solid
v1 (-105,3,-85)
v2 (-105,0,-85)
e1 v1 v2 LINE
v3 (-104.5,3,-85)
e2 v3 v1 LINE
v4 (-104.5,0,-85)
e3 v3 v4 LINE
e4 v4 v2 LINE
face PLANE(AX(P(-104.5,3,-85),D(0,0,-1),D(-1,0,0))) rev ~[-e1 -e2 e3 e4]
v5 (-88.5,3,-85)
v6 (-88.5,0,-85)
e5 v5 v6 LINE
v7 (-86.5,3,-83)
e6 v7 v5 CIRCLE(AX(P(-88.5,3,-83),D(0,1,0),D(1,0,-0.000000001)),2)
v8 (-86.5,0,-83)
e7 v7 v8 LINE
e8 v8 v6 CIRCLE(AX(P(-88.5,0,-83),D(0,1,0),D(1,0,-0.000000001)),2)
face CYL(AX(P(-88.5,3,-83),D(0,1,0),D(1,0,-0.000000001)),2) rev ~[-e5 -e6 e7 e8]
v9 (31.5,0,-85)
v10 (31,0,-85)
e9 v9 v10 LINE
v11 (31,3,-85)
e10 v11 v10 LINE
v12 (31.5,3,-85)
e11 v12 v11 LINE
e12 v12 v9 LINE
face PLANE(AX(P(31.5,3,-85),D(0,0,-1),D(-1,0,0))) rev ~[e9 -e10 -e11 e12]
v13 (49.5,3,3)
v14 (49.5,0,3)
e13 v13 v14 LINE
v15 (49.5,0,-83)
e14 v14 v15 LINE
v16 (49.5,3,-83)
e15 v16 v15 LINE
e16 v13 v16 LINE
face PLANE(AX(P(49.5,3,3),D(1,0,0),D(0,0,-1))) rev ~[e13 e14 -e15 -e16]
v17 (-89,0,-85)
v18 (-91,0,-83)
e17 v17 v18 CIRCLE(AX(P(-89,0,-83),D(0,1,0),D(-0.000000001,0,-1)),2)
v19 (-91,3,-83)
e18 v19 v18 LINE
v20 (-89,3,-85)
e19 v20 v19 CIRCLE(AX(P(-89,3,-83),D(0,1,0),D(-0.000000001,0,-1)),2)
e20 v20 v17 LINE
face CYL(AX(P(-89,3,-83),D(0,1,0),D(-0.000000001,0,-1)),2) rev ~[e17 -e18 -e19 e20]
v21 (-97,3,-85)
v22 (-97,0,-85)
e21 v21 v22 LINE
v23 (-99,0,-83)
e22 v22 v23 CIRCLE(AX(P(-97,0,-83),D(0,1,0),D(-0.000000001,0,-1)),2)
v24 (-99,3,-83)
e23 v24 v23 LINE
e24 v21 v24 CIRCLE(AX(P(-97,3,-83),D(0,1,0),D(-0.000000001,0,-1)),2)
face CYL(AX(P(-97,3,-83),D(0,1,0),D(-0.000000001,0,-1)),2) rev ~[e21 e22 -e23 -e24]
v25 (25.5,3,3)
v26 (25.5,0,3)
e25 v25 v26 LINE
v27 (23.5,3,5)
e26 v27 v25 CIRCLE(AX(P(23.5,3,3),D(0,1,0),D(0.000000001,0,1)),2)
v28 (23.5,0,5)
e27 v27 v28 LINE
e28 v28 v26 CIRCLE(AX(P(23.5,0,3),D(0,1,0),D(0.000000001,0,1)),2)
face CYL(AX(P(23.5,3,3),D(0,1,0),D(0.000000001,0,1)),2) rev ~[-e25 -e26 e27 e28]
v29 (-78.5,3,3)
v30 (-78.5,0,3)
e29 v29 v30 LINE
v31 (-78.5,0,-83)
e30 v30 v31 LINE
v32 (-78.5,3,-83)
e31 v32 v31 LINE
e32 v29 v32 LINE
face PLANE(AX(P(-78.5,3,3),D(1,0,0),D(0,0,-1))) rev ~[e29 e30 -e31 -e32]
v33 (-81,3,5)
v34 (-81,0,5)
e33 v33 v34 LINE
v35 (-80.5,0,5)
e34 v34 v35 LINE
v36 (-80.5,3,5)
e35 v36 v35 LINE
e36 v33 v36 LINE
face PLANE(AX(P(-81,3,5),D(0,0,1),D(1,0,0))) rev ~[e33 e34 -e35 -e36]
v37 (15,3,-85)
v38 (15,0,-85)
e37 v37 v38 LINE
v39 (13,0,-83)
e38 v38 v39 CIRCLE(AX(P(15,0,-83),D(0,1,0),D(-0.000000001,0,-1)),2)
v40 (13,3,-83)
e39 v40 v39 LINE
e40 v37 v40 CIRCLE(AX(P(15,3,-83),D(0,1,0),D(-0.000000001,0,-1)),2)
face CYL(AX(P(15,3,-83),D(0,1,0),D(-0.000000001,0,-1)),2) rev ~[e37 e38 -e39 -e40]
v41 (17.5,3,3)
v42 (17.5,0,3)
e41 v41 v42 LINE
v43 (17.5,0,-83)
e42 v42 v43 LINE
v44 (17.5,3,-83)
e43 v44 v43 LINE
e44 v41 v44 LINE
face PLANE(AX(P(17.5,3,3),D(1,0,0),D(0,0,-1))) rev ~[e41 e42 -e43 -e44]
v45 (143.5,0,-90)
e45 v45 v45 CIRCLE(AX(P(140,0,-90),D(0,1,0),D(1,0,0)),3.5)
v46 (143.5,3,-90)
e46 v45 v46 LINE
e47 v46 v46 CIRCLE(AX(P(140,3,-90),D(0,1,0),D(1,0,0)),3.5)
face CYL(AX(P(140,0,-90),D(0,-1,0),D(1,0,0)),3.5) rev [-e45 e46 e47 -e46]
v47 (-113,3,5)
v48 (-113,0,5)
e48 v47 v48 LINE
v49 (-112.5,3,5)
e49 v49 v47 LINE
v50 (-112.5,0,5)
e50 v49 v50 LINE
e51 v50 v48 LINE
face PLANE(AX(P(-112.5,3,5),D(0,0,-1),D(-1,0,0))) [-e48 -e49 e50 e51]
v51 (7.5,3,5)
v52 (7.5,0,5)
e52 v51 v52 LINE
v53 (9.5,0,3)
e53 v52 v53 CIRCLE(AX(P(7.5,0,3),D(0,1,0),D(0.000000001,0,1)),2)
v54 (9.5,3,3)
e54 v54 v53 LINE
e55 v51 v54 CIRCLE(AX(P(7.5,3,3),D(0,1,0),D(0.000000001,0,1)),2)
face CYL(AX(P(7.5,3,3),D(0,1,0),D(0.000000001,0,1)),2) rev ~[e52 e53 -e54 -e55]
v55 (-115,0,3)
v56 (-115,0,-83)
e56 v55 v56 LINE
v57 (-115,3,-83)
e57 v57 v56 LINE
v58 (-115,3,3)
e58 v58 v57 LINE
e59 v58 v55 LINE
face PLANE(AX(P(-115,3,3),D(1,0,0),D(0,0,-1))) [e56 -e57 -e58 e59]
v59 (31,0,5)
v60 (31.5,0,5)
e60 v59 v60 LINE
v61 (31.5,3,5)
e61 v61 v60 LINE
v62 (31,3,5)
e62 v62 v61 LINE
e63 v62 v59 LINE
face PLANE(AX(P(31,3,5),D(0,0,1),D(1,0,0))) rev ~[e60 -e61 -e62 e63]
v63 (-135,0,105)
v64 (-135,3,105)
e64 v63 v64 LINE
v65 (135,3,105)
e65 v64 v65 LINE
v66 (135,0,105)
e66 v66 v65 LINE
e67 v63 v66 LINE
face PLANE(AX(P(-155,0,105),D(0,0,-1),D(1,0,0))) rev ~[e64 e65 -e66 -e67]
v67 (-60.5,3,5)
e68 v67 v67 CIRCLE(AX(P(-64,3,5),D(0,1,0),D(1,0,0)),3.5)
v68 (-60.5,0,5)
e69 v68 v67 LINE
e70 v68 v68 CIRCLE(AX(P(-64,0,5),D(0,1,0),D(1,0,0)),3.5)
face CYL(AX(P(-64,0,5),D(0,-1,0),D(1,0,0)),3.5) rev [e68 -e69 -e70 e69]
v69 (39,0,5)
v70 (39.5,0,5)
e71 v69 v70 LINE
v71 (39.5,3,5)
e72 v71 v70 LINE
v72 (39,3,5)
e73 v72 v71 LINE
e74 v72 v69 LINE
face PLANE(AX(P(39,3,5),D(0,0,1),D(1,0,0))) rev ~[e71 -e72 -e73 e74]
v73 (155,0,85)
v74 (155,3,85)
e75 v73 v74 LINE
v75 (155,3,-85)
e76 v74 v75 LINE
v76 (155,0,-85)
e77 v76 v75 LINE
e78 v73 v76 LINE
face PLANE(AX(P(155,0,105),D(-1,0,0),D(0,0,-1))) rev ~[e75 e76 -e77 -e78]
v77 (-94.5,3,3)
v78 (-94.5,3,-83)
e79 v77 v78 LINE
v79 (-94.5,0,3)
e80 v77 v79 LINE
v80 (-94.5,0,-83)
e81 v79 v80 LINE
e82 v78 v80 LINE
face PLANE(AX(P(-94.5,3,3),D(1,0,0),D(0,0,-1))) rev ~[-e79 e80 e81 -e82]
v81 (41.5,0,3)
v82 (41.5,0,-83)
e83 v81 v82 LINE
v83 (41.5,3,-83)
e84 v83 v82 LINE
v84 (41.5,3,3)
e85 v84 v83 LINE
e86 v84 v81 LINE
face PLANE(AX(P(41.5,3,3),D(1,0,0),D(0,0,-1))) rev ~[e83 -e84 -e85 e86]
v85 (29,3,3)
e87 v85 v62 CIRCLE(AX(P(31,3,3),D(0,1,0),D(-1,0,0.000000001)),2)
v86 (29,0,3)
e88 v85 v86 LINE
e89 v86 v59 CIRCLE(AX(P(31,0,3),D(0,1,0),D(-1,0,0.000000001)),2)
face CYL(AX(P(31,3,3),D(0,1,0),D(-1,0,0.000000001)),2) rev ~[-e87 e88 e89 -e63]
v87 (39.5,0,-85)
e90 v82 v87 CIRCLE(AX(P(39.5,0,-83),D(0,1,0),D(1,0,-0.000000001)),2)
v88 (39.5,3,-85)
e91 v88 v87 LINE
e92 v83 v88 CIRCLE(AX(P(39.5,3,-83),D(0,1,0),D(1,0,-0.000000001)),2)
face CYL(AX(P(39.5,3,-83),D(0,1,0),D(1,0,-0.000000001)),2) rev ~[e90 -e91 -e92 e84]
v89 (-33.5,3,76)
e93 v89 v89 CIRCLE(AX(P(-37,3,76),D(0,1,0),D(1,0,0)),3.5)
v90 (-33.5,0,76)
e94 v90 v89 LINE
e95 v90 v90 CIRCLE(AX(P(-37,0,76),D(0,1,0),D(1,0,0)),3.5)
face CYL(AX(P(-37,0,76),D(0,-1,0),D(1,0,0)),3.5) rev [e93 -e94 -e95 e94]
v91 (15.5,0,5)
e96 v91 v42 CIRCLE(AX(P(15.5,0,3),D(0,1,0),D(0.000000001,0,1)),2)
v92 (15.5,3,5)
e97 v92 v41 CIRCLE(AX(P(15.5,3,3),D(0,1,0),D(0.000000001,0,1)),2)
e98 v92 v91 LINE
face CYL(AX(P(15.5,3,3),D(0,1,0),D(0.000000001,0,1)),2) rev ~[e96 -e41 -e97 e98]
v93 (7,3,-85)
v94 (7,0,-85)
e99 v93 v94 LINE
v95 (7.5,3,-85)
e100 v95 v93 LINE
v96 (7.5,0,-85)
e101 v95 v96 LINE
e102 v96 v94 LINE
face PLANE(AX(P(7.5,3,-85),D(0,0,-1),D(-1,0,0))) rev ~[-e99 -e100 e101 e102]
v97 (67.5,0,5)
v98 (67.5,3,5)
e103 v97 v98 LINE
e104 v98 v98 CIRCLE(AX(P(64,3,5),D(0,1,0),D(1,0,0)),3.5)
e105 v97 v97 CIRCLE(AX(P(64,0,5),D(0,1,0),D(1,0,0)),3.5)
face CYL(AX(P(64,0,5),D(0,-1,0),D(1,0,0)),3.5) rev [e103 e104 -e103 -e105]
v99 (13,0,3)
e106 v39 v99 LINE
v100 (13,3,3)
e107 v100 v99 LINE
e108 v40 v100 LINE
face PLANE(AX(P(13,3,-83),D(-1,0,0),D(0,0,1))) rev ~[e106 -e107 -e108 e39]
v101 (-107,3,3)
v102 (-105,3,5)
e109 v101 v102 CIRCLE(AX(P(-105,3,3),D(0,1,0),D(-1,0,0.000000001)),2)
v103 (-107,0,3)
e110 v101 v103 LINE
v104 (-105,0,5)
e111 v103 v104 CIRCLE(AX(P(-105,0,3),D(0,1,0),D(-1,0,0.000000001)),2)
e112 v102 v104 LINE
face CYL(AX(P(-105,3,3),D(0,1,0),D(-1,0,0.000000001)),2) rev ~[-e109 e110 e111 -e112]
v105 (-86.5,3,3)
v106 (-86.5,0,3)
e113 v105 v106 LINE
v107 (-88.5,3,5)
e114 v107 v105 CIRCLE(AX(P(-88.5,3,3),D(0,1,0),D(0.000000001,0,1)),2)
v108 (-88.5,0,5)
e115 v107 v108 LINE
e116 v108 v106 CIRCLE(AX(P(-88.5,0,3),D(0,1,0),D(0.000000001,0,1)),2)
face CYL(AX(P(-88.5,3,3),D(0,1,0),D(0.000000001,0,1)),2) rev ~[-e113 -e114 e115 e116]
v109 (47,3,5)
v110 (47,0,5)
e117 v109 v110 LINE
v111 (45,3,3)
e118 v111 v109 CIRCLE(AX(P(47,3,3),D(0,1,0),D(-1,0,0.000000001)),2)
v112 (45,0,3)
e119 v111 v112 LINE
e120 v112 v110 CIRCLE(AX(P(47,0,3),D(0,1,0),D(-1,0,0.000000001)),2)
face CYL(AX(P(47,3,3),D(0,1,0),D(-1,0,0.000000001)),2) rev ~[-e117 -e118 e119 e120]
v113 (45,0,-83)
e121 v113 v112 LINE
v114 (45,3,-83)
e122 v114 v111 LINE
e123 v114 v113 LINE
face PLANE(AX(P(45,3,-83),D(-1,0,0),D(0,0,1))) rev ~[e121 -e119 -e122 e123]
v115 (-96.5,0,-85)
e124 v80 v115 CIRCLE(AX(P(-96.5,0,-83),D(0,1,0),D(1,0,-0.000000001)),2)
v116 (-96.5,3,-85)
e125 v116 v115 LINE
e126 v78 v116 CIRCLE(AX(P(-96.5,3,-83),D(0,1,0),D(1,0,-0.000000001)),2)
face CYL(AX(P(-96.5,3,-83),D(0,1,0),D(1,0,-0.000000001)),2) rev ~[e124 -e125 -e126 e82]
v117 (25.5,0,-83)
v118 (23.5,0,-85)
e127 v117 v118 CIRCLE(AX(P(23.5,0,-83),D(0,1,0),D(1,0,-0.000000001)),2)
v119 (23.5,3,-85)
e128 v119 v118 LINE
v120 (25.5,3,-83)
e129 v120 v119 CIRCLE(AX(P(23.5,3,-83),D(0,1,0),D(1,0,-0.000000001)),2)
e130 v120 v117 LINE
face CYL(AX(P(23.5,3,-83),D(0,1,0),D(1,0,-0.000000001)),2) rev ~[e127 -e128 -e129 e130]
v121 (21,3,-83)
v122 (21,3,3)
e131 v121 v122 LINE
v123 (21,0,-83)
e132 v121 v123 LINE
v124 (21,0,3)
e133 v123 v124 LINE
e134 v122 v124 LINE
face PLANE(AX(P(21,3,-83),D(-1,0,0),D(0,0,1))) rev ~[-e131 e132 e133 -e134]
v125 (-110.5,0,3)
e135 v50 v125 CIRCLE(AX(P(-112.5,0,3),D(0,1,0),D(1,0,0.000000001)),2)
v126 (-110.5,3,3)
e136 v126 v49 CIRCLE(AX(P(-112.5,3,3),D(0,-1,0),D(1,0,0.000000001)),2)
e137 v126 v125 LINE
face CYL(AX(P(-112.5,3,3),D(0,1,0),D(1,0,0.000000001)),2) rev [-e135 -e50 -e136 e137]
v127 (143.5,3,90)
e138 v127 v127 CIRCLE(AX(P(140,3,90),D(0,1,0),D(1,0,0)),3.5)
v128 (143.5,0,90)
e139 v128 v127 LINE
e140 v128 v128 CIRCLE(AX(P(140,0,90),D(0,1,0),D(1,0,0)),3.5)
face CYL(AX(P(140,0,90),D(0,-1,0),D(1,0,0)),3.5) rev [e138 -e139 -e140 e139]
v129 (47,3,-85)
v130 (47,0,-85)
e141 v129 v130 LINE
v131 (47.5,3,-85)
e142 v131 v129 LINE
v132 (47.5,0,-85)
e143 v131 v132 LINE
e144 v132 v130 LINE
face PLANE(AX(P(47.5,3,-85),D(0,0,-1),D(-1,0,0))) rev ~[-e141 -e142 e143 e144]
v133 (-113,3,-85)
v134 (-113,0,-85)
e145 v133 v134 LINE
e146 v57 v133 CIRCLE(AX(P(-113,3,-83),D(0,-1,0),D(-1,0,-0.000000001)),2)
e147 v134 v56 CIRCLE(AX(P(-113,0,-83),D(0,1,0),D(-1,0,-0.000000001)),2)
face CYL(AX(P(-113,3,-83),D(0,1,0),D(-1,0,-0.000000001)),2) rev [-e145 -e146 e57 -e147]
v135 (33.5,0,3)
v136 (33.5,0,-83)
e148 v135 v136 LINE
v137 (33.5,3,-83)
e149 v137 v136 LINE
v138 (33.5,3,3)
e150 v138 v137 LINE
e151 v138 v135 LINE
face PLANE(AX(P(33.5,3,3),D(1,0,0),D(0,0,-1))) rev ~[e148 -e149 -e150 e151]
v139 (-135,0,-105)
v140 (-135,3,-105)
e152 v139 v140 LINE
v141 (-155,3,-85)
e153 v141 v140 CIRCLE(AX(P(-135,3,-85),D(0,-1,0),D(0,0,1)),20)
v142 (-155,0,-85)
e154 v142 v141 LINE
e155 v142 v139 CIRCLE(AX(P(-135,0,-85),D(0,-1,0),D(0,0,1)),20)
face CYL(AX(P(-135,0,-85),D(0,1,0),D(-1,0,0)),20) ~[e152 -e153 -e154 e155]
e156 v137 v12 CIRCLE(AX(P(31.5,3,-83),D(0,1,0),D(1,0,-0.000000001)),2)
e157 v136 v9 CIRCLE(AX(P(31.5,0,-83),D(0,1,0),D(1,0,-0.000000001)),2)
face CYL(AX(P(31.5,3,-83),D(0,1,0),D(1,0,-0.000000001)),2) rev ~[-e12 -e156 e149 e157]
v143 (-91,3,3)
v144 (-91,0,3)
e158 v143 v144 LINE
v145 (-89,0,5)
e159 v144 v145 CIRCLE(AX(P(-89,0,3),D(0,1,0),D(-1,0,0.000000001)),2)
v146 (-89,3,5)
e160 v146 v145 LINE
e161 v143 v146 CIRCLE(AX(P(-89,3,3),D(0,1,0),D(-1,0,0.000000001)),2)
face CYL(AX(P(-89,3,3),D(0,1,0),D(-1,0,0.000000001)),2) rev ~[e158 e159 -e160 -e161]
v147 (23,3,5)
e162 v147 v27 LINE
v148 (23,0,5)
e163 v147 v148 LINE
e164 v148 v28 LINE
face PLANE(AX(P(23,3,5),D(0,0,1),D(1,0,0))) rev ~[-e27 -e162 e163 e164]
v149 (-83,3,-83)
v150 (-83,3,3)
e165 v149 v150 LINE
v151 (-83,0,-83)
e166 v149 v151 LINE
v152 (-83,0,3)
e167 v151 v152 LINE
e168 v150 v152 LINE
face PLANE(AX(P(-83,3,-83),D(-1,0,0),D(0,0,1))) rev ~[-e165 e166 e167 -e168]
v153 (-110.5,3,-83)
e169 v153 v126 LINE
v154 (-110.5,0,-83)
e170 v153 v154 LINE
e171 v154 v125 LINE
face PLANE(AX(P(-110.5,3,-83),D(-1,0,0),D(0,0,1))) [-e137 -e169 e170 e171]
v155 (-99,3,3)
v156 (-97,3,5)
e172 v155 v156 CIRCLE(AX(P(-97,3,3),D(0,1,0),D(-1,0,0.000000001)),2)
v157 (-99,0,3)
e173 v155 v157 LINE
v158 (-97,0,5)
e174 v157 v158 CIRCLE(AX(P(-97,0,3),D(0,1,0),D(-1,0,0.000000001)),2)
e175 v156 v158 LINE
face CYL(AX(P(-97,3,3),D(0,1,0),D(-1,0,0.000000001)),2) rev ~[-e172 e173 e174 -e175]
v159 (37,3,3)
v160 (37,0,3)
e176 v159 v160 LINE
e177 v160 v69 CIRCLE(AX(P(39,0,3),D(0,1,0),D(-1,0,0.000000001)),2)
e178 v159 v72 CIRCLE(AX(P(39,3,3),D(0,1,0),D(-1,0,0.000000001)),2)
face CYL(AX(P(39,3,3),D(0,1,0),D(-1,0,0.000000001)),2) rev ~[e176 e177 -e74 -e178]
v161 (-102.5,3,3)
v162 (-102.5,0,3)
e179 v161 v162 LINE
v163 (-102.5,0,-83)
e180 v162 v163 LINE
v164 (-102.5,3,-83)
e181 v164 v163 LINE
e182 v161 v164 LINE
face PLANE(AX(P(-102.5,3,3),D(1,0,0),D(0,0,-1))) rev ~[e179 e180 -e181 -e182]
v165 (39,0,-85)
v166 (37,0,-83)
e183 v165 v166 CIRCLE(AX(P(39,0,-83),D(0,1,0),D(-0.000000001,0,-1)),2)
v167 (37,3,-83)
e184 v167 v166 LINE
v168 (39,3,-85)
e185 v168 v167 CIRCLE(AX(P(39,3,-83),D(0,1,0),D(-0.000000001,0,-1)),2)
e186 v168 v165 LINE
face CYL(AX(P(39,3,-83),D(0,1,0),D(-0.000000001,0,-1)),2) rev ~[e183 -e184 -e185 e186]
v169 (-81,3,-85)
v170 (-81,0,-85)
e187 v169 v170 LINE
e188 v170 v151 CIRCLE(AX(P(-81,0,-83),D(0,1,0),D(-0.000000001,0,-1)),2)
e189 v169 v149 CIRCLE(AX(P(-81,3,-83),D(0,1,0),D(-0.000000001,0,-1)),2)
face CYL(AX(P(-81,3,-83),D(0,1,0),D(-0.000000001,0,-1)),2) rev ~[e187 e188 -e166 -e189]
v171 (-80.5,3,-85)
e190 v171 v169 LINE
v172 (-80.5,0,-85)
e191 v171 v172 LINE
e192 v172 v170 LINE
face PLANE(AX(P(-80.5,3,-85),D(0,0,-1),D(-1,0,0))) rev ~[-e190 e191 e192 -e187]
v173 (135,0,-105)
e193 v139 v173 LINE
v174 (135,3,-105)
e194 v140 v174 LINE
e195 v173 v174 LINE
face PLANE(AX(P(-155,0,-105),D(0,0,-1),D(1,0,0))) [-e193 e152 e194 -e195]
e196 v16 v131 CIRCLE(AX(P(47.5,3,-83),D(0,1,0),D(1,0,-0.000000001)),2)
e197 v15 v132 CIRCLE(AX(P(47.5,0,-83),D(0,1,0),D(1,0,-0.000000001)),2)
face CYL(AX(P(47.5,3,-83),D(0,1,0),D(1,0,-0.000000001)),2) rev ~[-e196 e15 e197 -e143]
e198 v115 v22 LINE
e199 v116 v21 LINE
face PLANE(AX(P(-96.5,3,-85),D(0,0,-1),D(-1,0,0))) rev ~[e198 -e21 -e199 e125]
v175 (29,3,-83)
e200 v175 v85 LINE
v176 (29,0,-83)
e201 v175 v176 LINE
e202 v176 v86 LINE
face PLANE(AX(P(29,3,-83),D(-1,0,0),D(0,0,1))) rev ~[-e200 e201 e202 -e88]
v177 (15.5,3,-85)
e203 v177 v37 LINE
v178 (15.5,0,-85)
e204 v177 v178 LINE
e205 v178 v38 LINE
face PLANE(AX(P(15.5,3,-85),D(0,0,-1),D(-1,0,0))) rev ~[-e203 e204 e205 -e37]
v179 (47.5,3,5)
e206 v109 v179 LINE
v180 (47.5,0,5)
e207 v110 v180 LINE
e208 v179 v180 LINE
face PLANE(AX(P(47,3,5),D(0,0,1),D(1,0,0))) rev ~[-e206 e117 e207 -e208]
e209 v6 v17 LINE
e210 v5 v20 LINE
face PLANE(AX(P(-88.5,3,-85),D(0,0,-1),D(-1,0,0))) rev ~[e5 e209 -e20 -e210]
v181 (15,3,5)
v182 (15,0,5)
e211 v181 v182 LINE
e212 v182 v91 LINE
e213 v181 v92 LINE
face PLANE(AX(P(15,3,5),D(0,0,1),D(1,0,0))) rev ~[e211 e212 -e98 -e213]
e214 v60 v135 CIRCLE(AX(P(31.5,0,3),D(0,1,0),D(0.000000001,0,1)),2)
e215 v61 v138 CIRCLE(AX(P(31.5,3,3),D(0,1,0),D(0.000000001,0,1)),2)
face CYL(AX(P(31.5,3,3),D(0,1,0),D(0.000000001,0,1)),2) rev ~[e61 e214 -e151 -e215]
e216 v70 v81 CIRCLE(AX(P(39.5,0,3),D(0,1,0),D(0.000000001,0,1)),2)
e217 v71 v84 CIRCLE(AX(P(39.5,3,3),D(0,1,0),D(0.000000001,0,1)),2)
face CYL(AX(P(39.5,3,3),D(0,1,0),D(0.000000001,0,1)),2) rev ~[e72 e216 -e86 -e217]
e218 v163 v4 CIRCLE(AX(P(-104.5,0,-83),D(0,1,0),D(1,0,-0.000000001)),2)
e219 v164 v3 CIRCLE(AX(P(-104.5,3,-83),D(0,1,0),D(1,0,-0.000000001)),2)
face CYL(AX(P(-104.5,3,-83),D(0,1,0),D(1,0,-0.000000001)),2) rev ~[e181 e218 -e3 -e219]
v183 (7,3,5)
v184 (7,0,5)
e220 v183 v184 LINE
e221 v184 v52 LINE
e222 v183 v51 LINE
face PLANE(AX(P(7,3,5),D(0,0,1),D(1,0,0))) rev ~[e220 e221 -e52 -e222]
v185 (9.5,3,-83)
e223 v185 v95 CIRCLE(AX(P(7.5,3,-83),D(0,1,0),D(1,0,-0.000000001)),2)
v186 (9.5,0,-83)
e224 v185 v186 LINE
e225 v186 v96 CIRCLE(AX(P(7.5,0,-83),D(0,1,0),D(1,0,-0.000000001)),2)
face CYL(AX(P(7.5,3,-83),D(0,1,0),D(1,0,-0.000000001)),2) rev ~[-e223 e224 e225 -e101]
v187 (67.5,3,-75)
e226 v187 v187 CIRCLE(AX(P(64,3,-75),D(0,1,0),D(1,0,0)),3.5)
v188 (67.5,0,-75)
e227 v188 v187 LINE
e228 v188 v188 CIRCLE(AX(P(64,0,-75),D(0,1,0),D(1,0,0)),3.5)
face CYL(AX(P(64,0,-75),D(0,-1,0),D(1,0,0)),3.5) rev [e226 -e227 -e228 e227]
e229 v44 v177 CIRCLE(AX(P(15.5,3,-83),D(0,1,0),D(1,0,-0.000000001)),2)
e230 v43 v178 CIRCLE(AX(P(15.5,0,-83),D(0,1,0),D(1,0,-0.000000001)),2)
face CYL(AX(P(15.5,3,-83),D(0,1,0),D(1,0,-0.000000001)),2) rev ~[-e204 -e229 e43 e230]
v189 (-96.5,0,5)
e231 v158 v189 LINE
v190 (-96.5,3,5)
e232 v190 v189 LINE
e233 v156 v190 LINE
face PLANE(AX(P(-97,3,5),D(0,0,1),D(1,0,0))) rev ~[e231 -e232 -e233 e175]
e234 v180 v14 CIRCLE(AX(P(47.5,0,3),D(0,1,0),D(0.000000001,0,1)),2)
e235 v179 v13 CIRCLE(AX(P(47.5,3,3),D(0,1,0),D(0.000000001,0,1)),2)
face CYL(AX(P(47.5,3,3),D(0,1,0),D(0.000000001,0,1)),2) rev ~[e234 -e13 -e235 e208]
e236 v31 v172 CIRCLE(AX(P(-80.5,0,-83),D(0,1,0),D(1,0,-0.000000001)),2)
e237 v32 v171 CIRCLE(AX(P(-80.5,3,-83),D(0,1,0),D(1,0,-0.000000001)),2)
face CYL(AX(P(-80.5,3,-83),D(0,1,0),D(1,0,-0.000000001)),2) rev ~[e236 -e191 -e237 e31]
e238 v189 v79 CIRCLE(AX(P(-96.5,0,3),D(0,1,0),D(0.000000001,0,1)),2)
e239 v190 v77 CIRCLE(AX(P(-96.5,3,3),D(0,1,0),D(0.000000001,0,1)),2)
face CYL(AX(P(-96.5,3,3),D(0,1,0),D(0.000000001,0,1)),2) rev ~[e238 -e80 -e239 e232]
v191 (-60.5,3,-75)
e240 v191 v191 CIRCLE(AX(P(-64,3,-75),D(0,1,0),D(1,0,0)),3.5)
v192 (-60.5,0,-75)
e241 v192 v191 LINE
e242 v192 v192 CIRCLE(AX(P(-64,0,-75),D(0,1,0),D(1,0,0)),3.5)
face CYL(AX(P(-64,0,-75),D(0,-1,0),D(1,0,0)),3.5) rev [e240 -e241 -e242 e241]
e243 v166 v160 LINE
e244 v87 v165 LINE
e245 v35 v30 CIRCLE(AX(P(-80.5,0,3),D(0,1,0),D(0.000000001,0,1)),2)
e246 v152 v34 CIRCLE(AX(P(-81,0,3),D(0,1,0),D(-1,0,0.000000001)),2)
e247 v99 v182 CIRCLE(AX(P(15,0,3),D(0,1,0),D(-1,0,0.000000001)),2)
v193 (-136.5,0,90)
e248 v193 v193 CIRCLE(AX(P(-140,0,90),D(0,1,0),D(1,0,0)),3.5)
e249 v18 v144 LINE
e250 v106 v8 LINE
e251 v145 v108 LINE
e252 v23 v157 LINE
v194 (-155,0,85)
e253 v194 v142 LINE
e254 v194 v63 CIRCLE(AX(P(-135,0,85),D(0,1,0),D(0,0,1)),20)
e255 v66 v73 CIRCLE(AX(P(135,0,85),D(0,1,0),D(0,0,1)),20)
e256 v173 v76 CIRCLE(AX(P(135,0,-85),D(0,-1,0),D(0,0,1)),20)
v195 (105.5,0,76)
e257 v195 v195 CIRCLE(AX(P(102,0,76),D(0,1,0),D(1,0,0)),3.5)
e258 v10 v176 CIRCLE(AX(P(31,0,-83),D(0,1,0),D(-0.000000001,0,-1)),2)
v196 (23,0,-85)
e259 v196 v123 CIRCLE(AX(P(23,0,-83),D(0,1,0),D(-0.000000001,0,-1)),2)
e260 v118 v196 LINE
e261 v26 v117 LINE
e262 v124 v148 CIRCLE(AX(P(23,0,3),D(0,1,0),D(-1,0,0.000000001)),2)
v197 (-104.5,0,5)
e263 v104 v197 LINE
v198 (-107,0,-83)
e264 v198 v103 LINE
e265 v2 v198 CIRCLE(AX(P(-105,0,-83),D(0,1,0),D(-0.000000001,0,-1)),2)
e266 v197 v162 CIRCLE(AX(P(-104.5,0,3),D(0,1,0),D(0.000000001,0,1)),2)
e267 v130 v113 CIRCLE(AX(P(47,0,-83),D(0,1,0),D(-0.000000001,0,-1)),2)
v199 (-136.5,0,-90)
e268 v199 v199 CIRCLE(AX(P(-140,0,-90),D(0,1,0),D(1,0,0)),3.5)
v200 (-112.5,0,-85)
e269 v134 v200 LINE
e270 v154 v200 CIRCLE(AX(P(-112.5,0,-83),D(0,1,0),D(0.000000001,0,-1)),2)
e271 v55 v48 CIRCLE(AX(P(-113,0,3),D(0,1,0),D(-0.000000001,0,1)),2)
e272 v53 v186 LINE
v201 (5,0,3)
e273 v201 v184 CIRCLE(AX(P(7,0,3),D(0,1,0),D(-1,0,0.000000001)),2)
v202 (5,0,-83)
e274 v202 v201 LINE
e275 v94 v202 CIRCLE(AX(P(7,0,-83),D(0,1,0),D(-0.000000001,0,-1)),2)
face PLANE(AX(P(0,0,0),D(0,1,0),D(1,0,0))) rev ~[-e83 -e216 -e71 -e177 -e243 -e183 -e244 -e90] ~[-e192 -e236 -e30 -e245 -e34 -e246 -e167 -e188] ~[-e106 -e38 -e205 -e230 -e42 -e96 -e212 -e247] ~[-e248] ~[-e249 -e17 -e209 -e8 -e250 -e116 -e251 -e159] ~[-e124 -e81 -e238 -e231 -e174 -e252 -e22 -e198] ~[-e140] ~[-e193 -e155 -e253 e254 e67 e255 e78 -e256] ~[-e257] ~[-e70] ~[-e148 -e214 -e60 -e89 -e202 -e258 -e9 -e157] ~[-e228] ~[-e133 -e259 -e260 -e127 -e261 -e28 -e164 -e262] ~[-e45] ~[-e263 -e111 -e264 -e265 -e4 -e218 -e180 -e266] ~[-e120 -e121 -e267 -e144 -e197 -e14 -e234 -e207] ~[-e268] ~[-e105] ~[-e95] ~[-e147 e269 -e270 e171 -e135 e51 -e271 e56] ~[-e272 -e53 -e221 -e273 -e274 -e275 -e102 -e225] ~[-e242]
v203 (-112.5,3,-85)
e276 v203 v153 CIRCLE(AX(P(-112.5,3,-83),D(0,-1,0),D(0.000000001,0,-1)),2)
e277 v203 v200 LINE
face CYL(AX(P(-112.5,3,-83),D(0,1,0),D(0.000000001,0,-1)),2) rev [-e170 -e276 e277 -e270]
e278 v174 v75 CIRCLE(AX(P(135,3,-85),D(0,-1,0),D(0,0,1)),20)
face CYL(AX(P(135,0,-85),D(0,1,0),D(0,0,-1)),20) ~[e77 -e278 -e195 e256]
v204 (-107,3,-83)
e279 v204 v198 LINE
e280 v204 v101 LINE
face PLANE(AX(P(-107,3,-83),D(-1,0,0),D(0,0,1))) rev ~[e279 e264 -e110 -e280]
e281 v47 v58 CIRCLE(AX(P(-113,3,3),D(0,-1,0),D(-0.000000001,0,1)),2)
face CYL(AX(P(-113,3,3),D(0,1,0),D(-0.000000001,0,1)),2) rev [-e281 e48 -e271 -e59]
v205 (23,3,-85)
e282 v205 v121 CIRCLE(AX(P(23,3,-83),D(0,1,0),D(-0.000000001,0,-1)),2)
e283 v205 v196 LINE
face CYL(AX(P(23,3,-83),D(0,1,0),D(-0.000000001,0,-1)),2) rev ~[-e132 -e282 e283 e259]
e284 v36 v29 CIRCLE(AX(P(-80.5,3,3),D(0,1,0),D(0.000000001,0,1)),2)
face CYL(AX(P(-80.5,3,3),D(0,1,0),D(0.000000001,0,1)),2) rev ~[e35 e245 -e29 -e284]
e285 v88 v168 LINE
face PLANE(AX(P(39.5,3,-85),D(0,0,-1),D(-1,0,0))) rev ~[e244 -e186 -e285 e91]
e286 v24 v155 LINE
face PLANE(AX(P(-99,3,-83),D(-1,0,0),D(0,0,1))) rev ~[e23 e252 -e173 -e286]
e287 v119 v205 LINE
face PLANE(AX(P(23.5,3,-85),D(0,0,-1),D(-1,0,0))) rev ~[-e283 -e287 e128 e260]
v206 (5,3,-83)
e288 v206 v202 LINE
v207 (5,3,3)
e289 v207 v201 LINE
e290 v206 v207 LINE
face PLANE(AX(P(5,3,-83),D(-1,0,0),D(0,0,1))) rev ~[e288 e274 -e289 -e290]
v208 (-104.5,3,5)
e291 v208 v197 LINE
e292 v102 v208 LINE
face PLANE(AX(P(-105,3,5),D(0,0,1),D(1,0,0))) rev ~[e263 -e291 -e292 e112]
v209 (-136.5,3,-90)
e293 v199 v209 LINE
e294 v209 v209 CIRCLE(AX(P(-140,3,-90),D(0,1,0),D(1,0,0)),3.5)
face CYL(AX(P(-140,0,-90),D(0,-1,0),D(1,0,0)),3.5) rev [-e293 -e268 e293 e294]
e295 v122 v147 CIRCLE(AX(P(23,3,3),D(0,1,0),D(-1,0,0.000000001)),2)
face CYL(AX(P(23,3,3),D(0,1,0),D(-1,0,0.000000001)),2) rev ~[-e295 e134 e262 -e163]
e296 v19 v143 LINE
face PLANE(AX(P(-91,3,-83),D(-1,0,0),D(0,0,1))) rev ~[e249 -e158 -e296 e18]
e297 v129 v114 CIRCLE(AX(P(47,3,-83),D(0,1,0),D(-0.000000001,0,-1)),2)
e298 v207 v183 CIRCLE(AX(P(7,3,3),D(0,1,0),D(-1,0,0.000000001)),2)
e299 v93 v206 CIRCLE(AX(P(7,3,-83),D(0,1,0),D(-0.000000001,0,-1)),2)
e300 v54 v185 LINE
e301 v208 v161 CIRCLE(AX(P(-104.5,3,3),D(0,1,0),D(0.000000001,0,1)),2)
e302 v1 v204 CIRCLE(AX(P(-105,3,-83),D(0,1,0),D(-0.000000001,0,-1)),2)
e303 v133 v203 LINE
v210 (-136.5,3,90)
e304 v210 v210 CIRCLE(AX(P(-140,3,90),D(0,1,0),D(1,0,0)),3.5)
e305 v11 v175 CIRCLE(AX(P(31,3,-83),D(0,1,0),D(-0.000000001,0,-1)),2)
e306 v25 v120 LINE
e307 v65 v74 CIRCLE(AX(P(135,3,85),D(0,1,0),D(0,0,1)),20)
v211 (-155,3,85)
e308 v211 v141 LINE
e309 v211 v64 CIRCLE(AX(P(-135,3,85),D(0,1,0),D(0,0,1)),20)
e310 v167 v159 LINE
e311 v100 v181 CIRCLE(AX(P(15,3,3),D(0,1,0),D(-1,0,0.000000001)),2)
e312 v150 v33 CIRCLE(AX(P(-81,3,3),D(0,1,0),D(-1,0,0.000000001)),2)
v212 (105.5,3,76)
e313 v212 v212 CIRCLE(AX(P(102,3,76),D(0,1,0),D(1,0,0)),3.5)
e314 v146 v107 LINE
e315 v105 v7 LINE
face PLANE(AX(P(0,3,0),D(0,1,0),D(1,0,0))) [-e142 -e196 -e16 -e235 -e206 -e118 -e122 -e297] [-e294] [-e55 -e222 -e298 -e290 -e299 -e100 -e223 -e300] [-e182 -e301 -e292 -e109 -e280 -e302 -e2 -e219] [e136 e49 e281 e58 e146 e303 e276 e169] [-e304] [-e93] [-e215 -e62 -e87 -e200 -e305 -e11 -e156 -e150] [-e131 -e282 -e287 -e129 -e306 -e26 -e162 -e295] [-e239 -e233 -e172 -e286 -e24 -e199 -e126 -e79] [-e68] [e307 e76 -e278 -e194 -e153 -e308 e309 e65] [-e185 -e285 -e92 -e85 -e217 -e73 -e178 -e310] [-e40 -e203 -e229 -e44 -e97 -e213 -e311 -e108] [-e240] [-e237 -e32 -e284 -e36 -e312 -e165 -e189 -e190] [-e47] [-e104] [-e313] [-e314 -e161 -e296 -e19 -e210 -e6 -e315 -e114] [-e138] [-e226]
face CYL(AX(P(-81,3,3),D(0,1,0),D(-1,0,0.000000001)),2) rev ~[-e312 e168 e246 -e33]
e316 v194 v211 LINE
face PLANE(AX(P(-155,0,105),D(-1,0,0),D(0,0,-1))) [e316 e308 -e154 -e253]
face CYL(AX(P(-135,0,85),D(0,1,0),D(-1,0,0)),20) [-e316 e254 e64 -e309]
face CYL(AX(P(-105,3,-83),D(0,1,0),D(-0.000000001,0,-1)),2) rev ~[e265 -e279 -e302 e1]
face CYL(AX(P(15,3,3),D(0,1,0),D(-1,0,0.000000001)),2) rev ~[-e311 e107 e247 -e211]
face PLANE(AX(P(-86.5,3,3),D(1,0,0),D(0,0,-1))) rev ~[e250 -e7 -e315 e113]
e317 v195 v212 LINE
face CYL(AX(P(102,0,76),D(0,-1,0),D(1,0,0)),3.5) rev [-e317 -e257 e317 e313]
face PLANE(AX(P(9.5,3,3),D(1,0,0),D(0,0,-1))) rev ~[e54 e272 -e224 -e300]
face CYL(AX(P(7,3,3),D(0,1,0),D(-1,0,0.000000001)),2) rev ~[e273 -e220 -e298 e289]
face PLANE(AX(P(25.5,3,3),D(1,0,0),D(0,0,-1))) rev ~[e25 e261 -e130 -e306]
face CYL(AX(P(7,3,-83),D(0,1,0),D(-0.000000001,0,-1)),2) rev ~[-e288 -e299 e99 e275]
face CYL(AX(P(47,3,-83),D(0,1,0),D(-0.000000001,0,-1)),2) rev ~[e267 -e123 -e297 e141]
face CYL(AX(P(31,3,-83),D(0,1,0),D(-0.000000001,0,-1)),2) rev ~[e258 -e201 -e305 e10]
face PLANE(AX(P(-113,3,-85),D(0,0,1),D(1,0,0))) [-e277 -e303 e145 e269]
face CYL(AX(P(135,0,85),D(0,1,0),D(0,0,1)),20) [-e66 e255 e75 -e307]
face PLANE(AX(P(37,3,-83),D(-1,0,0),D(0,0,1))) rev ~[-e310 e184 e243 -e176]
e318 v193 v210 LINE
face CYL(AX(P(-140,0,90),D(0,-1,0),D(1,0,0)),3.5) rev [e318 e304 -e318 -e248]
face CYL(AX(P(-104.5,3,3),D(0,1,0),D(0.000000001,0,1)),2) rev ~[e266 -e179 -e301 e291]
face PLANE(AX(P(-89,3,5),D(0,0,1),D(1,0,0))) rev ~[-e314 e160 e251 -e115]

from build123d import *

# Parameters (mm, degrees)
SKETCH1_W           = 310
SKETCH1_H           = 210
SKETCH1_R           = 3.5
BOSS_EXTRUDE1_DEPTH = 3
FILLET1_R           = 20
CUT_EXTRUDE2_DEPTH  = 10


with BuildPart() as part:
    # Sketch1 → Boss-Extrude1 (new body)
    with BuildSketch(Plane(origin=(0, 0, 0), x_dir=(1, 0, 0), z_dir=(0, 1, 0))):
        Rectangle(SKETCH1_W, SKETCH1_H)
        with Locations((-140, 90)):
            Circle(SKETCH1_R, mode=Mode.SUBTRACT)
        with Locations((140, 90)):
            Circle(SKETCH1_R, mode=Mode.SUBTRACT)
        with Locations((140, -90)):
            Circle(SKETCH1_R, mode=Mode.SUBTRACT)
        with Locations((-140, -90)):
            Circle(SKETCH1_R, mode=Mode.SUBTRACT)
        with Locations((102, -76)):
            Circle(SKETCH1_R, mode=Mode.SUBTRACT)
        with Locations((-37, -76)):
            Circle(SKETCH1_R, mode=Mode.SUBTRACT)
        with Locations((-64, 75)):
            Circle(SKETCH1_R, mode=Mode.SUBTRACT)
        with Locations((64, 75)):
            Circle(SKETCH1_R, mode=Mode.SUBTRACT)
        with Locations((-64, -5)):
            Circle(SKETCH1_R, mode=Mode.SUBTRACT)
        with Locations((64, -5)):
            Circle(SKETCH1_R, mode=Mode.SUBTRACT)
    extrude(amount=BOSS_EXTRUDE1_DEPTH)

    # Fillet1
    fillet1_edges = [part.edges().sort_by_distance(p)[0] for p in [
        (-155, 1.5, -105),
        (155, 1.5, -105),
        (155, 1.5, 105),
        (-155, 1.5, 105),
    ]]
    fillet(fillet1_edges, radius=FILLET1_R)

    # Sketch2 → Cut-Extrude2 (cut)
    with BuildSketch(Plane(origin=(0, 3, 0), x_dir=(1, 0, 0), z_dir=(0, 1, 0))):
        with BuildLine():
            Line((-107, 83), (-107, -3))
            ThreePointArc((-107, -3), (-106.414213562, -4.414213562), (-105, -5))
            Line((-105, -5), (-104.5, -5))
            ThreePointArc((-104.5, -5), (-103.085786438, -4.414213562), (-102.5, -3))
            Line((-102.5, -3), (-102.5, 83))
            ThreePointArc((-102.5, 83), (-103.085786438, 84.414213562), (-104.5, 85))
            Line((-104.5, 85), (-105, 85))
            ThreePointArc((-105, 85), (-106.414213562, 84.414213562), (-107, 83))
        make_face()
        with BuildLine():
            Line((-113, 85), (-112.5, 85))
            ThreePointArc((-112.5, 85), (-111.085786438, 84.414213562), (-110.5, 83))
            Line((-110.5, 83), (-110.5, -3))
            ThreePointArc((-110.5, -3), (-111.085786438, -4.414213562), (-112.5, -5))
            Line((-112.5, -5), (-113, -5))
            ThreePointArc((-113, -5), (-114.414213562, -4.414213562), (-115, -3))
            Line((-115, -3), (-115, 83))
            ThreePointArc((-115, 83), (-114.414213562, 84.414213562), (-113, 85))
        make_face()
        with BuildLine():
            Line((-99, 83), (-99, -3))
            ThreePointArc((-99, -3), (-98.414213562, -4.414213562), (-97, -5))
            Line((-97, -5), (-96.5, -5))
            ThreePointArc((-96.5, -5), (-95.085786438, -4.414213562), (-94.5, -3))
            Line((-94.5, -3), (-94.5, 83))
            ThreePointArc((-94.5, 83), (-95.085786438, 84.414213562), (-96.5, 85))
            Line((-96.5, 85), (-97, 85))
            ThreePointArc((-97, 85), (-98.414213562, 84.414213562), (-99, 83))
        make_face()
        with BuildLine():
            Line((-91, 83), (-91, -3))
            ThreePointArc((-91, -3), (-90.414213562, -4.414213562), (-89, -5))
            Line((-89, -5), (-88.5, -5))
            ThreePointArc((-88.5, -5), (-87.085786438, -4.414213562), (-86.5, -3))
            Line((-86.5, -3), (-86.5, 83))
            ThreePointArc((-86.5, 83), (-87.085786438, 84.414213562), (-88.5, 85))
            Line((-88.5, 85), (-89, 85))
            ThreePointArc((-89, 85), (-90.414213562, 84.414213562), (-91, 83))
        make_face()
        with BuildLine():
            Line((-83, 83), (-83, -3))
            ThreePointArc((-83, -3), (-82.414213562, -4.414213562), (-81, -5))
            Line((-81, -5), (-80.5, -5))
            ThreePointArc((-80.5, -5), (-79.085786438, -4.414213562), (-78.5, -3))
            Line((-78.5, -3), (-78.5, 83))
            ThreePointArc((-78.5, 83), (-79.085786438, 84.414213562), (-80.5, 85))
            Line((-80.5, 85), (-81, 85))
            ThreePointArc((-81, 85), (-82.414213562, 84.414213562), (-83, 83))
        make_face()
        with BuildLine():
            Line((5, 83), (5, -3))
            ThreePointArc((5, -3), (5.585786438, -4.414213562), (7, -5))
            Line((7, -5), (7.5, -5))
            ThreePointArc((7.5, -5), (8.914213562, -4.414213562), (9.5, -3))
            Line((9.5, -3), (9.5, 83))
            ThreePointArc((9.5, 83), (8.914213562, 84.414213562), (7.5, 85))
            Line((7.5, 85), (7, 85))
            ThreePointArc((7, 85), (5.585786438, 84.414213562), (5, 83))
        make_face()
        with BuildLine():
            Line((13, 83), (13, -3))
            ThreePointArc((13, -3), (13.585786438, -4.414213562), (15, -5))
            Line((15, -5), (15.5, -5))
            ThreePointArc((15.5, -5), (16.914213562, -4.414213562), (17.5, -3))
            Line((17.5, -3), (17.5, 83))
            ThreePointArc((17.5, 83), (16.914213562, 84.414213562), (15.5, 85))
            Line((15.5, 85), (15, 85))
            ThreePointArc((15, 85), (13.585786438, 84.414213562), (13, 83))
        make_face()
        with BuildLine():
            Line((21, 83), (21, -3))
            ThreePointArc((21, -3), (21.585786438, -4.414213562), (23, -5))
            Line((23, -5), (23.5, -5))
            ThreePointArc((23.5, -5), (24.914213562, -4.414213562), (25.5, -3))
            Line((25.5, -3), (25.5, 83))
            ThreePointArc((25.5, 83), (24.914213562, 84.414213562), (23.5, 85))
            Line((23.5, 85), (23, 85))
            ThreePointArc((23, 85), (21.585786438, 84.414213562), (21, 83))
        make_face()
        with BuildLine():
            Line((29, 83), (29, -3))
            ThreePointArc((29, -3), (29.585786438, -4.414213562), (31, -5))
            Line((31, -5), (31.5, -5))
            ThreePointArc((31.5, -5), (32.914213562, -4.414213562), (33.5, -3))
            Line((33.5, -3), (33.5, 83))
            ThreePointArc((33.5, 83), (32.914213562, 84.414213562), (31.5, 85))
            Line((31.5, 85), (31, 85))
            ThreePointArc((31, 85), (29.585786438, 84.414213562), (29, 83))
        make_face()
        with BuildLine():
            Line((37, 83), (37, -3))
            ThreePointArc((37, -3), (37.585786438, -4.414213562), (39, -5))
            Line((39, -5), (39.5, -5))
            ThreePointArc((39.5, -5), (40.914213562, -4.414213562), (41.5, -3))
            Line((41.5, -3), (41.5, 83))
            ThreePointArc((41.5, 83), (40.914213562, 84.414213562), (39.5, 85))
            Line((39.5, 85), (39, 85))
            ThreePointArc((39, 85), (37.585786438, 84.414213562), (37, 83))
        make_face()
        with BuildLine():
            Line((45, 83), (45, -3))
            ThreePointArc((45, -3), (45.585786438, -4.414213562), (47, -5))
            Line((47, -5), (47.5, -5))
            ThreePointArc((47.5, -5), (48.914213562, -4.414213562), (49.5, -3))
            Line((49.5, -3), (49.5, 83))
            ThreePointArc((49.5, 83), (48.914213562, 84.414213562), (47.5, 85))
            Line((47.5, 85), (47, 85))
            ThreePointArc((47, 85), (45.585786438, 84.414213562), (45, 83))
        make_face()
    extrude(amount=-CUT_EXTRUDE2_DEPTH, mode=Mode.SUBTRACT)


solid = part.part
